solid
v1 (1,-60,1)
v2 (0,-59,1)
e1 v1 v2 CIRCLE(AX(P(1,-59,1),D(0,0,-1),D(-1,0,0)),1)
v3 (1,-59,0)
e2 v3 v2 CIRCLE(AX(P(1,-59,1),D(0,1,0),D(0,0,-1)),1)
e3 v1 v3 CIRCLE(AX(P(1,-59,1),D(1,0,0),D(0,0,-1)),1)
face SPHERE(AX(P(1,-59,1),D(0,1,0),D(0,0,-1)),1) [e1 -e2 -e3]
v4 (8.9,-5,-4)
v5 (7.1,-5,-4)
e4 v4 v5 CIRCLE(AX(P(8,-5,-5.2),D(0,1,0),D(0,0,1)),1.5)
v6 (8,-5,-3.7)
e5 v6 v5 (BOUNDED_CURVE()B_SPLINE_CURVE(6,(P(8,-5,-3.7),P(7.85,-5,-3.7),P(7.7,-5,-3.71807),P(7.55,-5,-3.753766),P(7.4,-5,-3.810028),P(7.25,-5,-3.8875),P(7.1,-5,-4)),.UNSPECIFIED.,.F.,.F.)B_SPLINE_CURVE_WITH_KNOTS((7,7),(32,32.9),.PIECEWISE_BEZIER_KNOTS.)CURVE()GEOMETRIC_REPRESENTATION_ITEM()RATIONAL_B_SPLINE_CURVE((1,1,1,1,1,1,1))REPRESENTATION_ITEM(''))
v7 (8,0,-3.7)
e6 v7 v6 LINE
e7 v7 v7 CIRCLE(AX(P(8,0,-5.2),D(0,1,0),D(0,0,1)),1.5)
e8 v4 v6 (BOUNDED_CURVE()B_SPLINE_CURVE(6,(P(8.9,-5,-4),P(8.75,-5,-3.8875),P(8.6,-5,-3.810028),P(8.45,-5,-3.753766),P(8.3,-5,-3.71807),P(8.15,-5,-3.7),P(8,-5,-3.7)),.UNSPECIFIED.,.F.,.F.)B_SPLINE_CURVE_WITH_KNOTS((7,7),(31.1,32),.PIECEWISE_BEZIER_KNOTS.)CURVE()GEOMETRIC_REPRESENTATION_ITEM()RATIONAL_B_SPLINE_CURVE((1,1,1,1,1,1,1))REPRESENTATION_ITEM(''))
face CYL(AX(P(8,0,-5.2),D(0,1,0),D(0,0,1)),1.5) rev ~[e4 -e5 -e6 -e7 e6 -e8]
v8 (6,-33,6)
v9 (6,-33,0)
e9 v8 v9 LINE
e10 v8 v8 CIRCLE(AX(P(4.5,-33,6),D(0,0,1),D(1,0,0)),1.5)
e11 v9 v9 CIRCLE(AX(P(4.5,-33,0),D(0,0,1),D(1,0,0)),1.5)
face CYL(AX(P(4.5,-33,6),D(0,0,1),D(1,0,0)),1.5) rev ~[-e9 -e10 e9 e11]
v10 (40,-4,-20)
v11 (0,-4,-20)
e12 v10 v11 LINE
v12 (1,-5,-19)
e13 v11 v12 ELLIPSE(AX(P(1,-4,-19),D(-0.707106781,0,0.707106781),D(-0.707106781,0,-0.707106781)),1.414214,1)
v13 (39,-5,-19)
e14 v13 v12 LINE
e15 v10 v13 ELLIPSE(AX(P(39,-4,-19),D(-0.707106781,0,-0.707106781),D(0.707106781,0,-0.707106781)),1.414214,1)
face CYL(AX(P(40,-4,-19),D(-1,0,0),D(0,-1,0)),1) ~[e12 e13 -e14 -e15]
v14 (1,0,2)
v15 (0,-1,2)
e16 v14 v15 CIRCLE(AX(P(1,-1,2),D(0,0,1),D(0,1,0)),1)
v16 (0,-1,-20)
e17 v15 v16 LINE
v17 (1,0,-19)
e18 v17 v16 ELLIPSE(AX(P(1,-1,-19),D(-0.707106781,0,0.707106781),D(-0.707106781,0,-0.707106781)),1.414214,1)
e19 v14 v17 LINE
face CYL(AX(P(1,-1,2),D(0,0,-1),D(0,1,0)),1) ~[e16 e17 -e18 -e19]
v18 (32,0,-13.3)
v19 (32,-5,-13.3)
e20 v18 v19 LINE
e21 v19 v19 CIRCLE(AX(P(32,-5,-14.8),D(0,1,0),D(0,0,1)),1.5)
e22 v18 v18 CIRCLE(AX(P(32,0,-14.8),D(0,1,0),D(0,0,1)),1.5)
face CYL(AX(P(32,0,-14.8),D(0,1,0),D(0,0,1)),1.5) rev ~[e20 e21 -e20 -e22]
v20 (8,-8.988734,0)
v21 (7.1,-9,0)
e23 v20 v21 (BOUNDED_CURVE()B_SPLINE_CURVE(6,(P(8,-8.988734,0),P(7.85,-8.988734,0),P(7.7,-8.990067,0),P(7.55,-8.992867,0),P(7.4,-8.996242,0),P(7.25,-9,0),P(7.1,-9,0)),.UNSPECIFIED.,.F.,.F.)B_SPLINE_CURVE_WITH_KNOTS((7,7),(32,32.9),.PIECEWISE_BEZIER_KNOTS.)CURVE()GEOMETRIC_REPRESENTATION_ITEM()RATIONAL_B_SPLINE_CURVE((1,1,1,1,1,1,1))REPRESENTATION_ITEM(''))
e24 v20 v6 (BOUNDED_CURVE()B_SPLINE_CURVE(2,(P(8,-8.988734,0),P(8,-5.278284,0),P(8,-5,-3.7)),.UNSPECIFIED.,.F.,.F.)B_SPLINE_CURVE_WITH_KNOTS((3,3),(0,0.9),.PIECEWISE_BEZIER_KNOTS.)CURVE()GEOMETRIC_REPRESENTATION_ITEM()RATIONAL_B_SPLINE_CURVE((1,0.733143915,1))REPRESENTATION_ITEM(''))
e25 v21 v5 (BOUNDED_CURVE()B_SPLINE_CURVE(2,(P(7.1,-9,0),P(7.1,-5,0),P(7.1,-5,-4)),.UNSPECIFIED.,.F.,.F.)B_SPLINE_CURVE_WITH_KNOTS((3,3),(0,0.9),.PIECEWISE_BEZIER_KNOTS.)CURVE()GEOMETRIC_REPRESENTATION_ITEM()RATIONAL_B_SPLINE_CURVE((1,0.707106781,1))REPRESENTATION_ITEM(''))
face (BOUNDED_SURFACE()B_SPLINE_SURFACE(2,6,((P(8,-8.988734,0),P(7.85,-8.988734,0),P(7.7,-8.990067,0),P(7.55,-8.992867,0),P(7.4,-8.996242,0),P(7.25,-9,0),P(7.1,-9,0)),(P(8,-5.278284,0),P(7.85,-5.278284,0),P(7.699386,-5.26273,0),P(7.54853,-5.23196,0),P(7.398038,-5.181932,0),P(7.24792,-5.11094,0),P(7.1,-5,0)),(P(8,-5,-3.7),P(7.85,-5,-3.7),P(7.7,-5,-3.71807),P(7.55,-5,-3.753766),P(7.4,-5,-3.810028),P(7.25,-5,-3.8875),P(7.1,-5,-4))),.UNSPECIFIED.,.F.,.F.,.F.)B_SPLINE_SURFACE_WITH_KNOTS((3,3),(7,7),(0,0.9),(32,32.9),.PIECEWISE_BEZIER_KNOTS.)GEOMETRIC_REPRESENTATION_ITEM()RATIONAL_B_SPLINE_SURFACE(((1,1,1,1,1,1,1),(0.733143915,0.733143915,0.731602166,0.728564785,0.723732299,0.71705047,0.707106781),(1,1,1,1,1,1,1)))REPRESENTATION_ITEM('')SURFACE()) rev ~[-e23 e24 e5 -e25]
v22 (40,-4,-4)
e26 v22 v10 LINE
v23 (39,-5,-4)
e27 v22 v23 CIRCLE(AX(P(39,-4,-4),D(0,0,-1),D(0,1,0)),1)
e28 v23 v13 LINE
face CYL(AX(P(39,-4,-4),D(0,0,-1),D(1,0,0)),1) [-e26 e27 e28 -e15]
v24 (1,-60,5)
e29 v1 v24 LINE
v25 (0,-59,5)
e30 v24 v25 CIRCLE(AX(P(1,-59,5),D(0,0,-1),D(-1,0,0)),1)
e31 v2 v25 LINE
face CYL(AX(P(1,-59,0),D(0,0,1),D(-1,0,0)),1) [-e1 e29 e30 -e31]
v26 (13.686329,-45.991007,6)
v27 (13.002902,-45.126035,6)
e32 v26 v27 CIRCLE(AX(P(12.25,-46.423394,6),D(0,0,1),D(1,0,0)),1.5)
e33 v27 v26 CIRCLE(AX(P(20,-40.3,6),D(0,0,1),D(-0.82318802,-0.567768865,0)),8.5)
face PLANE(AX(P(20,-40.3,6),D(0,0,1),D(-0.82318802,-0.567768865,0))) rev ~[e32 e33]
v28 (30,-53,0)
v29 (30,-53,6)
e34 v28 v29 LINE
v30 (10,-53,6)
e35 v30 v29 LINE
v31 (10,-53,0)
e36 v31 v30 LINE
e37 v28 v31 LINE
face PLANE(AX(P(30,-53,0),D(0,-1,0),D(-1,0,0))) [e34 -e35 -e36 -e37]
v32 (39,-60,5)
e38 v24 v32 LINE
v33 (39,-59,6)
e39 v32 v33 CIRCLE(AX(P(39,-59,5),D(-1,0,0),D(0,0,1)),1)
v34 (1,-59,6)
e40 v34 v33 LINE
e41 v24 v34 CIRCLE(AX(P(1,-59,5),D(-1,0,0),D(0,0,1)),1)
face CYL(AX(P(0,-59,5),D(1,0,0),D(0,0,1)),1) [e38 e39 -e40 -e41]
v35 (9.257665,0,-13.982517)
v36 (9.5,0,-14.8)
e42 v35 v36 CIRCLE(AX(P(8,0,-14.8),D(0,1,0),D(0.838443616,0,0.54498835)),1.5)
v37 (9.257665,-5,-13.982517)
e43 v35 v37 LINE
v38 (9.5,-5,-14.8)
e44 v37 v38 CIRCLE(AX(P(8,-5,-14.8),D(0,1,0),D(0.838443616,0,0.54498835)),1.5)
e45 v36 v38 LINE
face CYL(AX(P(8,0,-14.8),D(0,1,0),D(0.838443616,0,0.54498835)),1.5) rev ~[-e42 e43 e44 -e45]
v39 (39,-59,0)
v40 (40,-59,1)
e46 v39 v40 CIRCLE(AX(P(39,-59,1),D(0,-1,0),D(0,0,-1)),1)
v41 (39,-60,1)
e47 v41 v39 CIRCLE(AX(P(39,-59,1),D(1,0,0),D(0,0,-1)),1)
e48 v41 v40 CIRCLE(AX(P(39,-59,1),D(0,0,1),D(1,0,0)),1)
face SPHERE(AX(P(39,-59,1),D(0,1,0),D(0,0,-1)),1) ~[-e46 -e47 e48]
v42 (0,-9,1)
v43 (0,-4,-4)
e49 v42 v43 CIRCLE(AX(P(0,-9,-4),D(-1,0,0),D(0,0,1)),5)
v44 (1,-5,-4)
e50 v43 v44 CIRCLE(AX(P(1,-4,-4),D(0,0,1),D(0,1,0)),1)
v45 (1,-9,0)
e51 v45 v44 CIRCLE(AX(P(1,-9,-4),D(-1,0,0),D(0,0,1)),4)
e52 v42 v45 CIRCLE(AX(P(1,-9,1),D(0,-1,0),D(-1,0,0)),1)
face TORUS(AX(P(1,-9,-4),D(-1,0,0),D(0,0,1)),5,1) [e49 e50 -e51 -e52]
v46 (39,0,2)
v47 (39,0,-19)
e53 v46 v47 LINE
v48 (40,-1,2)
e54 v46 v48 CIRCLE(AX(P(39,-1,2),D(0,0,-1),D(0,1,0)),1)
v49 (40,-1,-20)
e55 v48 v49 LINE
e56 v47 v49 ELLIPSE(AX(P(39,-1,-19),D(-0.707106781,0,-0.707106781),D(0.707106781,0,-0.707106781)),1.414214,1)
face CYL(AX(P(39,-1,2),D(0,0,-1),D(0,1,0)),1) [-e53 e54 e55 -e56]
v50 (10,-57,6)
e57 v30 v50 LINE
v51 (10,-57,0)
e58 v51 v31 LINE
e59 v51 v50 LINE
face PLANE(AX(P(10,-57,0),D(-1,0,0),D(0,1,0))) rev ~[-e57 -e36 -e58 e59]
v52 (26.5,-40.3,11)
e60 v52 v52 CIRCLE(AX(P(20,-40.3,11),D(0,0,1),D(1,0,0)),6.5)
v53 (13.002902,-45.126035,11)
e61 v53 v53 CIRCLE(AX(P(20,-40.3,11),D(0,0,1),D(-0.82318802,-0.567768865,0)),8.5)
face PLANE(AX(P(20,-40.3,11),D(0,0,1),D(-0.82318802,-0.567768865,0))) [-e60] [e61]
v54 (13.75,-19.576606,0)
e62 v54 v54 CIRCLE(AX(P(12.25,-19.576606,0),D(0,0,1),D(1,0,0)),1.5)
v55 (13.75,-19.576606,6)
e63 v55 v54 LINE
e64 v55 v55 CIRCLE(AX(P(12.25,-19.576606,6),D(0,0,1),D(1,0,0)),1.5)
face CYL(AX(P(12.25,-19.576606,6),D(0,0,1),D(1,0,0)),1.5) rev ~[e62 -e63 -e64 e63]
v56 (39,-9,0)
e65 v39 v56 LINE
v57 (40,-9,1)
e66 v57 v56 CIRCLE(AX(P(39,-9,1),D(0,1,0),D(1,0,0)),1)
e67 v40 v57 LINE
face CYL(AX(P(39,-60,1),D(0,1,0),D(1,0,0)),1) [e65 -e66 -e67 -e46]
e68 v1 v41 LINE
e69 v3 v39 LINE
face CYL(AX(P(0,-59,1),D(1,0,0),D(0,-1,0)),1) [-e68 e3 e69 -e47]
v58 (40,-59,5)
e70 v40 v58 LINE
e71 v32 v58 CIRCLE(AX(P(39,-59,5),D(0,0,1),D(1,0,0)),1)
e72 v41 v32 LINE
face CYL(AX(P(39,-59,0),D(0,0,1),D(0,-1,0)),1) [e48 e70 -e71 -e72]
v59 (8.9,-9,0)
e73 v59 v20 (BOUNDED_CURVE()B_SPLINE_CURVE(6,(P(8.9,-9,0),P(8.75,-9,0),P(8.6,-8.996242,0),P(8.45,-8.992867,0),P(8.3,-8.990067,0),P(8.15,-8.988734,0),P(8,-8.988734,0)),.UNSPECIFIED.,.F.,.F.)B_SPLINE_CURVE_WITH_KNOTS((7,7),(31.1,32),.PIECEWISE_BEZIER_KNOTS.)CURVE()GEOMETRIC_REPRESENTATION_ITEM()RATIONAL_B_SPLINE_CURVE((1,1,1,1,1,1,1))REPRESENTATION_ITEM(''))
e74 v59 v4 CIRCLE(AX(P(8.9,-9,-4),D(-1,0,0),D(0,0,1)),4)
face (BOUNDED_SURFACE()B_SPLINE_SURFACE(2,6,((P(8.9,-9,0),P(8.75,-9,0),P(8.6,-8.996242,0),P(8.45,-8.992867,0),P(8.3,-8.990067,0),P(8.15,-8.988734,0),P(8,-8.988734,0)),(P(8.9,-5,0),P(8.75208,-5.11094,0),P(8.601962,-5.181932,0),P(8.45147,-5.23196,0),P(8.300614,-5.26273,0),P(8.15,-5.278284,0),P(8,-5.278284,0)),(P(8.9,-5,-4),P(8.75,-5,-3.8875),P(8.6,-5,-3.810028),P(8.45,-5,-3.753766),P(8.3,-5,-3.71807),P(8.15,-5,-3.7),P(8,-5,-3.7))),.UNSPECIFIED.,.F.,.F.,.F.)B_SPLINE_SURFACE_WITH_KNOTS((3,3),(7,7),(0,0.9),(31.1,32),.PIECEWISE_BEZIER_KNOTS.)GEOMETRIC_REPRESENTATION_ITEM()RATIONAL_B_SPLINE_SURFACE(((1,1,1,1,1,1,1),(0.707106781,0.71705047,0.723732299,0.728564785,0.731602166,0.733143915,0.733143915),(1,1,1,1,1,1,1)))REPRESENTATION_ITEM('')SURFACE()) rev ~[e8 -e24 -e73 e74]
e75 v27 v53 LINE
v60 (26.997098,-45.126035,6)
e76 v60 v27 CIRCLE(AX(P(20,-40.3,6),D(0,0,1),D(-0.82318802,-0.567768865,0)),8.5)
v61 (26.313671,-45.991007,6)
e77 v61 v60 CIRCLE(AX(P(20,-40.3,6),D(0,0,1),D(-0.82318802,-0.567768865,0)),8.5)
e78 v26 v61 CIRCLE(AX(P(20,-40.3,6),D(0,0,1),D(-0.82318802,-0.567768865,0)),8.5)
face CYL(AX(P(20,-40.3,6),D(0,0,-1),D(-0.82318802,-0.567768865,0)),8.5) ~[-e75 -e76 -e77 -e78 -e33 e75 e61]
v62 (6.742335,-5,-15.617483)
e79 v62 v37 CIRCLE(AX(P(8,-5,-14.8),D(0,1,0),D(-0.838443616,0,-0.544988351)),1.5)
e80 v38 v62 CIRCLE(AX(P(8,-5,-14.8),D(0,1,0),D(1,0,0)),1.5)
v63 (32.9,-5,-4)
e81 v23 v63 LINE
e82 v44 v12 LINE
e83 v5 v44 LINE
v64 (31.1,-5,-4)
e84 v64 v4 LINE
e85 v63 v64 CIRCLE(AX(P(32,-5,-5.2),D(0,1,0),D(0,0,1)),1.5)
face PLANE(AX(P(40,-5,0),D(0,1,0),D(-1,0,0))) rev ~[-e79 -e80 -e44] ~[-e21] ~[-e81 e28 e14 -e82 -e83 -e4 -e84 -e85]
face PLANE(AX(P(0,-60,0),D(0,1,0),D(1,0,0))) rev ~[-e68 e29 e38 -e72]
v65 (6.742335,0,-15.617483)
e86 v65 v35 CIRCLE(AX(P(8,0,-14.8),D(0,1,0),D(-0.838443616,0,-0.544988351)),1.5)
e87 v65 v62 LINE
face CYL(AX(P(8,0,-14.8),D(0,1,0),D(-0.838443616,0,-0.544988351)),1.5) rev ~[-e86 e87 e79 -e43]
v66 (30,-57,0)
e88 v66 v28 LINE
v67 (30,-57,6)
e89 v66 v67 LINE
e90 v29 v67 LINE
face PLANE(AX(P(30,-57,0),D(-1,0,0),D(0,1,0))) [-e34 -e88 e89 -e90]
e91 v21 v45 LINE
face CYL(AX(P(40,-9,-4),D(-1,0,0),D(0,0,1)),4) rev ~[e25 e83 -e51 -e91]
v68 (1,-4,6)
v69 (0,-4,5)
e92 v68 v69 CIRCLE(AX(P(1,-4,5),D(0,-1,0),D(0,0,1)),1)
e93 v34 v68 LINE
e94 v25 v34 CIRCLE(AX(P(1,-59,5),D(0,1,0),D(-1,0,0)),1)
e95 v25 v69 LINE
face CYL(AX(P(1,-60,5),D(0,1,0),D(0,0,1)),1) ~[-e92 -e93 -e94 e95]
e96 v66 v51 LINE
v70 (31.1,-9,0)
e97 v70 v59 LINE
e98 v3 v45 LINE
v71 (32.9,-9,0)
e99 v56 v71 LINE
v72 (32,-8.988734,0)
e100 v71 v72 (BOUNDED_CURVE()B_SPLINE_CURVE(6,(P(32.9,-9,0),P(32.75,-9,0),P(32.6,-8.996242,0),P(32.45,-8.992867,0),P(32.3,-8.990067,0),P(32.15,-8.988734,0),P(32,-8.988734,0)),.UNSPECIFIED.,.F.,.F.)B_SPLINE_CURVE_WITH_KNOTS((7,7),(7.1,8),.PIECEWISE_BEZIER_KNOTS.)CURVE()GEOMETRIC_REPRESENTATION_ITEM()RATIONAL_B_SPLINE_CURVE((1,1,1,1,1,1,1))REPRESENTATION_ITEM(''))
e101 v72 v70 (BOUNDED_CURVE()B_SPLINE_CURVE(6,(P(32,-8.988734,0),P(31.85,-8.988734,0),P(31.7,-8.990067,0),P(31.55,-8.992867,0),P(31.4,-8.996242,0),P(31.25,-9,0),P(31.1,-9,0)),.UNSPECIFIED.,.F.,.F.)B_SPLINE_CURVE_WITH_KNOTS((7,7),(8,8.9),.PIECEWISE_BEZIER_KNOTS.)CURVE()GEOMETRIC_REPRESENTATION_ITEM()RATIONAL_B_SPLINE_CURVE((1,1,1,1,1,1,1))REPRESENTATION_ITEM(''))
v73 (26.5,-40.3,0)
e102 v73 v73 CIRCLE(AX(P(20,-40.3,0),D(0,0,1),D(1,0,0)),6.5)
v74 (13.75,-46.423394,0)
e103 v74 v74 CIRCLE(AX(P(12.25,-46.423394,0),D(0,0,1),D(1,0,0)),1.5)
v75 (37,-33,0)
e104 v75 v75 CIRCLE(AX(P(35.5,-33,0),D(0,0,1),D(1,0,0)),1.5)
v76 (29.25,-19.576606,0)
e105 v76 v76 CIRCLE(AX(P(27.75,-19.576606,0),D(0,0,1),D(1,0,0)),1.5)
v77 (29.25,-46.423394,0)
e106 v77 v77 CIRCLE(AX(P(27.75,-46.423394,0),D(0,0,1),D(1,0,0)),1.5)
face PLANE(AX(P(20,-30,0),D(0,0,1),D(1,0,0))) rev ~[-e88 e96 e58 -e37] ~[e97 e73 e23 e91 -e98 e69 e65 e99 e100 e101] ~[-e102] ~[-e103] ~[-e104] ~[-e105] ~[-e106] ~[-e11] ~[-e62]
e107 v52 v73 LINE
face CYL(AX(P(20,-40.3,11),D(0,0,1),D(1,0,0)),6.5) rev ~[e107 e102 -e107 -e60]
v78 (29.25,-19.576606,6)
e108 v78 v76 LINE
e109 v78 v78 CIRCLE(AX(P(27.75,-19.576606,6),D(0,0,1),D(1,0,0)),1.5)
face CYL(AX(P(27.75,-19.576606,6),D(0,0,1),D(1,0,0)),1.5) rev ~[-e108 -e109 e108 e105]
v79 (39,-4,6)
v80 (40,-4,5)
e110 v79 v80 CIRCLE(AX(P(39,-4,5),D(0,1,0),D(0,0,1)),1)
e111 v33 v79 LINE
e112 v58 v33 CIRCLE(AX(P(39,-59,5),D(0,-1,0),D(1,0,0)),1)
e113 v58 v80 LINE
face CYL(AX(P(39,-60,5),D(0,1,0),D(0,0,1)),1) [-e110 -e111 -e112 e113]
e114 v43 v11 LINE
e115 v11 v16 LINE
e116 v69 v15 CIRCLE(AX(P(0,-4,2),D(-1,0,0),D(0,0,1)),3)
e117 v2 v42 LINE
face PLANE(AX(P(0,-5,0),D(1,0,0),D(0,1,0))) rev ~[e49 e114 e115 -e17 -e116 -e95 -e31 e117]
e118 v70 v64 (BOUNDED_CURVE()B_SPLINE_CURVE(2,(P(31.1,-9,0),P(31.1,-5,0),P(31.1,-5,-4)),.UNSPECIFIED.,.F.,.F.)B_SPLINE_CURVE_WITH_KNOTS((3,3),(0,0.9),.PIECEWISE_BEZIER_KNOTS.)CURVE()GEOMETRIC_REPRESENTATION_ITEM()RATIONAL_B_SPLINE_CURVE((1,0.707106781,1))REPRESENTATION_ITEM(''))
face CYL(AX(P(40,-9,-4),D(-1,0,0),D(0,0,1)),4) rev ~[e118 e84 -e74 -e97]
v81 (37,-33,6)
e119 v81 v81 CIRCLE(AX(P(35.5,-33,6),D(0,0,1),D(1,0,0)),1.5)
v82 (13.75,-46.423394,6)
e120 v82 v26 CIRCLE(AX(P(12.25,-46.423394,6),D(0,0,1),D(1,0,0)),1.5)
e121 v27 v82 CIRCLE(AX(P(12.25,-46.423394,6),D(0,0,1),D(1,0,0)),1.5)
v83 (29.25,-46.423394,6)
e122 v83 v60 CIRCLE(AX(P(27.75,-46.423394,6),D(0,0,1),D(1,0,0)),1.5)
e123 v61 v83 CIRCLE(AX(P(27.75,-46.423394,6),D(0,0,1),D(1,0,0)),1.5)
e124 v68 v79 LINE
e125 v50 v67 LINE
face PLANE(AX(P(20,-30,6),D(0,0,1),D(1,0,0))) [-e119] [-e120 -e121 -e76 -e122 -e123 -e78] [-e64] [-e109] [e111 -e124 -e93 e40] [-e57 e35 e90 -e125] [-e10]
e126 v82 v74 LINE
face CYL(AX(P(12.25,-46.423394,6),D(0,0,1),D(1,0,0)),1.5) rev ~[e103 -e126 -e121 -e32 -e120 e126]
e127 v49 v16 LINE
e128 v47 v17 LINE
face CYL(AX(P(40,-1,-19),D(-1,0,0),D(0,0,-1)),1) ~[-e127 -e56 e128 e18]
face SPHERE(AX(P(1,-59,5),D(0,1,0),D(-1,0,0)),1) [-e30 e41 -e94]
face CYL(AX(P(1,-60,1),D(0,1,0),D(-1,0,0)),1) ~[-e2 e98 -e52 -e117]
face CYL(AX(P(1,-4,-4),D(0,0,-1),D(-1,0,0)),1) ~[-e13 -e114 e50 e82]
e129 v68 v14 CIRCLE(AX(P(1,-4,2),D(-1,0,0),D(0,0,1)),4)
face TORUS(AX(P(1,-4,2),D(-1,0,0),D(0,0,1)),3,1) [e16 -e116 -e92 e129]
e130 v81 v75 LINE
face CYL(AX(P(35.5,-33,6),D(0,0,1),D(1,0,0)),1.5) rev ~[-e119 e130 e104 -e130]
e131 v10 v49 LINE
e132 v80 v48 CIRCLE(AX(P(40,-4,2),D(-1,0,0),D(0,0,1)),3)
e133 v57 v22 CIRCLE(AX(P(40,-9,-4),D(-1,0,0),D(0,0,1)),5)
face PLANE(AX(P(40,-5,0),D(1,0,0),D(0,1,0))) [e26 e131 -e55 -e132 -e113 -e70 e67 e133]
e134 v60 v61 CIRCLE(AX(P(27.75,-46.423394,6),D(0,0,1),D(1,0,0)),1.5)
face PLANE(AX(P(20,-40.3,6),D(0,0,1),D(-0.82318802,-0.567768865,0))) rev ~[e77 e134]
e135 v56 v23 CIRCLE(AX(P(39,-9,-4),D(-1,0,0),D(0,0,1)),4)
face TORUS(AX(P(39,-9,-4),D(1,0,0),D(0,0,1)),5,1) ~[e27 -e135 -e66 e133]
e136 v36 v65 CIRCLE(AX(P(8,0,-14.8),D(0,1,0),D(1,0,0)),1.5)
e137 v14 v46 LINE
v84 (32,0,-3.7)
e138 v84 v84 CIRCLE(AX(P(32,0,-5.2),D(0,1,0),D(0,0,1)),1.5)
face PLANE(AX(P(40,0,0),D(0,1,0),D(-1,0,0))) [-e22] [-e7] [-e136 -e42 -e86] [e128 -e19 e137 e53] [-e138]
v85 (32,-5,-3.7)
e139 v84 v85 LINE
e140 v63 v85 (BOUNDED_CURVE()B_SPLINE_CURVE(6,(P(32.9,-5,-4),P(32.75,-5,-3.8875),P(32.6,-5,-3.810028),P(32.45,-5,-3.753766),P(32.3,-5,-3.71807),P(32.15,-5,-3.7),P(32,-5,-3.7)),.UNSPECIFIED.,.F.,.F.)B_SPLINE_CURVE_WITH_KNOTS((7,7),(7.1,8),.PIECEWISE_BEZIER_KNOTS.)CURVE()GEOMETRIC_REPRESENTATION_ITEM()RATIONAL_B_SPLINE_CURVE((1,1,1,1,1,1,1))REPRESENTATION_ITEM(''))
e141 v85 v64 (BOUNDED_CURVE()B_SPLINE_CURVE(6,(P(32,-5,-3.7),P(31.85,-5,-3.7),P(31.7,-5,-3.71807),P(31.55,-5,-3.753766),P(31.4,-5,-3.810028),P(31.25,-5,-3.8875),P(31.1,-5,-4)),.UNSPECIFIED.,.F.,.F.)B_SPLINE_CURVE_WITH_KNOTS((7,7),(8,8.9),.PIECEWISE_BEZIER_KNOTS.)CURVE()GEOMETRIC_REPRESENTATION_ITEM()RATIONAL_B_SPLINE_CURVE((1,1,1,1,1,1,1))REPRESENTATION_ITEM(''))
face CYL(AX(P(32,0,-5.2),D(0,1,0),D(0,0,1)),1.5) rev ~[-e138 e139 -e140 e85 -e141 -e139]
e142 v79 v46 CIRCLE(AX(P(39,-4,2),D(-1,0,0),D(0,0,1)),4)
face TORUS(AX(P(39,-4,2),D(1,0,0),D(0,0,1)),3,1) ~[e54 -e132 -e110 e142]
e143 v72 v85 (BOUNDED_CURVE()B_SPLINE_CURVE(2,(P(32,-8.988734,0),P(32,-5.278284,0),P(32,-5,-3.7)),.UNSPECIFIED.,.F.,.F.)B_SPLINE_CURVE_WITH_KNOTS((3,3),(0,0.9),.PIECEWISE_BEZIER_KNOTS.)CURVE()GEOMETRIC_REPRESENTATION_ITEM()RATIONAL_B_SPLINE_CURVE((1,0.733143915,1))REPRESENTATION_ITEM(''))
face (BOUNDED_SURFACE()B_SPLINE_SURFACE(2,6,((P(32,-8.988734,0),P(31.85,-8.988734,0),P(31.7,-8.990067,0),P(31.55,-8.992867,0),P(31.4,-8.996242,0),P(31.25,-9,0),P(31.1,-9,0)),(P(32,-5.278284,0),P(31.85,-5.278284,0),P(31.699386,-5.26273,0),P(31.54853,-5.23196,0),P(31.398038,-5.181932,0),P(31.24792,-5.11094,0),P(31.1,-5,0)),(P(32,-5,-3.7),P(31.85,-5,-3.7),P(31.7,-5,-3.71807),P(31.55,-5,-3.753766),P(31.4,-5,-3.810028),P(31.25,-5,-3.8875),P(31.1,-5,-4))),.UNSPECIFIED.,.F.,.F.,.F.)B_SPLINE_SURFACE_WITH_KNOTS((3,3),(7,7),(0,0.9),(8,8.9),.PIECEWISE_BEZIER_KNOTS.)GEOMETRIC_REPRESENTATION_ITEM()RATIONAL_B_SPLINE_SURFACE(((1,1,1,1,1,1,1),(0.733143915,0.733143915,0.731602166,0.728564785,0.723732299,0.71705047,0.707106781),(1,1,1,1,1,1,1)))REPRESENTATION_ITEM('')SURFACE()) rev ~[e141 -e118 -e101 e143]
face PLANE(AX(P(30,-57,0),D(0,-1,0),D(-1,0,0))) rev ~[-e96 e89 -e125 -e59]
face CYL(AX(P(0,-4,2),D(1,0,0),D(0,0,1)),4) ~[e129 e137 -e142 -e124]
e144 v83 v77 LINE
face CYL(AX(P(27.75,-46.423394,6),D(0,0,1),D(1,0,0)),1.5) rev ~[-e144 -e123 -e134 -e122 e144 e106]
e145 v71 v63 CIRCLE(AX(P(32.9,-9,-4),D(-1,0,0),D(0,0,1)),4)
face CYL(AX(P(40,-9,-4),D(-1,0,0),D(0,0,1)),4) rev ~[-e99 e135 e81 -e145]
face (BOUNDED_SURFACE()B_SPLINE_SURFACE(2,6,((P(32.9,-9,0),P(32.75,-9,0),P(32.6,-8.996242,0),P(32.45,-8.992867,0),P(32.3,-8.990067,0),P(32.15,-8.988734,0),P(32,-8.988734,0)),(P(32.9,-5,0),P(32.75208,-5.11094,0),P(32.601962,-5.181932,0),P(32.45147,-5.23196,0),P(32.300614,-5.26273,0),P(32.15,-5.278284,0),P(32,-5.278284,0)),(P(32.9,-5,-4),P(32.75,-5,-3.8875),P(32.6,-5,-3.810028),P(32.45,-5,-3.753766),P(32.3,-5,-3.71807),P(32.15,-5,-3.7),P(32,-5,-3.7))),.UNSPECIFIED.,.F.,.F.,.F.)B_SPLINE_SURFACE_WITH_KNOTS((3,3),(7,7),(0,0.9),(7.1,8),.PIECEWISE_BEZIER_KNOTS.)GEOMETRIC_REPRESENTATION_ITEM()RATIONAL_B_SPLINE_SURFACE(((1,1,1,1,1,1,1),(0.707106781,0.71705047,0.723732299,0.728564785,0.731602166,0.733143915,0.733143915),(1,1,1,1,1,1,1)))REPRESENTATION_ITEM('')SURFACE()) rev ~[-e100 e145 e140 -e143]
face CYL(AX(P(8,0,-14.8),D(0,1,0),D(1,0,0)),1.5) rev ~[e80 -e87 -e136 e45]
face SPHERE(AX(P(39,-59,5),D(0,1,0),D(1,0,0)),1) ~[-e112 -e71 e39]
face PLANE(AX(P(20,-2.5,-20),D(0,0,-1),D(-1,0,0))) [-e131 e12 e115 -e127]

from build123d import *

# Parameters (mm, degrees)
SKETCH_1_W          = 40
SKETCH_1_H          = 60
EXTRUDE_1_DEPTH     = 6
SKETCH_2_W          = 40
SKETCH_2_H          = 5
EXTRUDE_2_DEPTH     = 20
SKETCH_3_R          = 1.5
CUT_EXTRUDE_1_DEPTH = 20
SKETCH_5_R          = 8.5
EXTRUDE_3_DEPTH     = 5
SKETCH_7_R          = 6.5
CUT_EXTRUDE_3_DEPTH = 27
SKETCH_8_R          = 1.5
CUT_EXTRUDE_5_DEPTH = 27
SKETCH_9_W          = 20
SKETCH_9_H          = 4
CUT_EXTRUDE_6_DEPTH = 27
FILLET_1_R          = 4
FILLET_2_R          = 1


with BuildPart() as part:
    # 草图1 → 凸台-拉伸1 (new body)
    with BuildSketch(Plane.XY):
        with Locations((20, -30)):
            Rectangle(SKETCH_1_W, SKETCH_1_H)
    extrude(amount=EXTRUDE_1_DEPTH)

    # 草图2 → 凸台-拉伸2 (add)
    with BuildSketch(Plane(origin=(0, 0, 0), x_dir=(-1, 0, 0), z_dir=(0, 0, -1))):
        with Locations((-20, -2.5)):
            Rectangle(SKETCH_2_W, SKETCH_2_H)
    extrude(amount=EXTRUDE_2_DEPTH)

    # 草图3 → 切除-拉伸1 (cut)
    with BuildSketch(Plane.XY.offset(6)):
        with Locations((35.5, -33)):
            Circle(SKETCH_3_R)
        with Locations((27.75, -46.423393759)):
            Circle(SKETCH_3_R)
        with Locations((12.25, -46.423393759)):
            Circle(SKETCH_3_R)
        with Locations((4.5, -33)):
            Circle(SKETCH_3_R)
        with Locations((12.25, -19.576606241)):
            Circle(SKETCH_3_R)
        with Locations((27.75, -19.576606241)):
            Circle(SKETCH_3_R)
    extrude(amount=-CUT_EXTRUDE_1_DEPTH, mode=Mode.SUBTRACT)

    # 草图5 → 凸台-拉伸3 (add)
    with BuildSketch(Plane.XY.offset(6)):
        with Locations(Location((20, -40.3, 0), (0, 0, 214.594788024))):
            Circle(SKETCH_5_R)
    extrude(amount=EXTRUDE_3_DEPTH)

    # 草图7 → 切除-拉伸3 (cut)
    with BuildSketch(Plane.XY.offset(11)):
        with Locations((20, -40.3)):
            Circle(SKETCH_7_R)
    extrude(amount=-CUT_EXTRUDE_3_DEPTH, mode=Mode.SUBTRACT)

    # 草图8 → 切除-拉伸5 (cut)
    with BuildSketch(Plane(origin=(0, 0, 0), x_dir=(1, 0, 0), z_dir=(0, 1, 0))):
        with BuildLine():
            ThreePointArc((9.5, 14.8), (8.426322568, 16.238140837), (6.742334576, 15.617482526))
            Line((6.742334576, 15.617482526), (9.257665424, 13.982517474))
            ThreePointArc((9.257665424, 13.982517474), (9.438140837, 14.373677432), (9.5, 14.8))
        make_face()
        with BuildLine():
            Line((9.257665424, 13.982517474), (6.742334576, 15.617482526))
            ThreePointArc((6.742334576, 15.617482526), (7.182517474, 13.542334576), (9.257665424, 13.982517474))
        make_face()
        with Locations(Location((8, 5.2, 0), (0, 0, 270))):
            Circle(SKETCH_8_R)
        with Locations(Location((32, 14.8, 0), (0, 0, 270))):
            Circle(SKETCH_8_R)
        with Locations(Location((32, 5.2, 0), (0, 0, 270))):
            Circle(SKETCH_8_R)
    extrude(amount=-CUT_EXTRUDE_5_DEPTH, mode=Mode.SUBTRACT)

    # 草图9 → 切除-拉伸6 (cut)
    with BuildSketch(Plane(origin=(0, 0, 0), x_dir=(-1, 0, 0), z_dir=(0, 0, -1))):
        with Locations((-20, -55)):
            Rectangle(SKETCH_9_W, SKETCH_9_H)
    extrude(amount=-CUT_EXTRUDE_6_DEPTH, mode=Mode.SUBTRACT)

    # 圆角1
    fillet_1_edges = [part.edges().sort_by_distance(p)[0] for p in [
        (20, -5, 0),
        (20, 0, 6),
    ]]
    fillet(fillet_1_edges, radius=FILLET_1_R)

    # 圆角2
    fillet_2_edges = [part.edges().sort_by_distance(p)[0] for p in [
        (0, -34.5, 0),
        (0, -32, 6),
        (0, 0, -9),
        (0, -1.171572875, 4.828427125),
        (40, -32, 6),
        (40, 0, -9),
        (40, -1.171572875, 4.828427125),
        (0, -6.171572875, -1.171572875),
        (40, -6.171572875, -1.171572875),
        (40, -5, -12),
        (0, -5, -12),
        (20, -5, -20),
        (20, 0, -20),
        (40, -34.5, 0),
        (20, -60, 0),
        (40, -60, 3),
        (0, -60, 3),
        (20, -60, 6),
    ]]
    fillet(fillet_2_edges, radius=FILLET_2_R)


solid = part.part
